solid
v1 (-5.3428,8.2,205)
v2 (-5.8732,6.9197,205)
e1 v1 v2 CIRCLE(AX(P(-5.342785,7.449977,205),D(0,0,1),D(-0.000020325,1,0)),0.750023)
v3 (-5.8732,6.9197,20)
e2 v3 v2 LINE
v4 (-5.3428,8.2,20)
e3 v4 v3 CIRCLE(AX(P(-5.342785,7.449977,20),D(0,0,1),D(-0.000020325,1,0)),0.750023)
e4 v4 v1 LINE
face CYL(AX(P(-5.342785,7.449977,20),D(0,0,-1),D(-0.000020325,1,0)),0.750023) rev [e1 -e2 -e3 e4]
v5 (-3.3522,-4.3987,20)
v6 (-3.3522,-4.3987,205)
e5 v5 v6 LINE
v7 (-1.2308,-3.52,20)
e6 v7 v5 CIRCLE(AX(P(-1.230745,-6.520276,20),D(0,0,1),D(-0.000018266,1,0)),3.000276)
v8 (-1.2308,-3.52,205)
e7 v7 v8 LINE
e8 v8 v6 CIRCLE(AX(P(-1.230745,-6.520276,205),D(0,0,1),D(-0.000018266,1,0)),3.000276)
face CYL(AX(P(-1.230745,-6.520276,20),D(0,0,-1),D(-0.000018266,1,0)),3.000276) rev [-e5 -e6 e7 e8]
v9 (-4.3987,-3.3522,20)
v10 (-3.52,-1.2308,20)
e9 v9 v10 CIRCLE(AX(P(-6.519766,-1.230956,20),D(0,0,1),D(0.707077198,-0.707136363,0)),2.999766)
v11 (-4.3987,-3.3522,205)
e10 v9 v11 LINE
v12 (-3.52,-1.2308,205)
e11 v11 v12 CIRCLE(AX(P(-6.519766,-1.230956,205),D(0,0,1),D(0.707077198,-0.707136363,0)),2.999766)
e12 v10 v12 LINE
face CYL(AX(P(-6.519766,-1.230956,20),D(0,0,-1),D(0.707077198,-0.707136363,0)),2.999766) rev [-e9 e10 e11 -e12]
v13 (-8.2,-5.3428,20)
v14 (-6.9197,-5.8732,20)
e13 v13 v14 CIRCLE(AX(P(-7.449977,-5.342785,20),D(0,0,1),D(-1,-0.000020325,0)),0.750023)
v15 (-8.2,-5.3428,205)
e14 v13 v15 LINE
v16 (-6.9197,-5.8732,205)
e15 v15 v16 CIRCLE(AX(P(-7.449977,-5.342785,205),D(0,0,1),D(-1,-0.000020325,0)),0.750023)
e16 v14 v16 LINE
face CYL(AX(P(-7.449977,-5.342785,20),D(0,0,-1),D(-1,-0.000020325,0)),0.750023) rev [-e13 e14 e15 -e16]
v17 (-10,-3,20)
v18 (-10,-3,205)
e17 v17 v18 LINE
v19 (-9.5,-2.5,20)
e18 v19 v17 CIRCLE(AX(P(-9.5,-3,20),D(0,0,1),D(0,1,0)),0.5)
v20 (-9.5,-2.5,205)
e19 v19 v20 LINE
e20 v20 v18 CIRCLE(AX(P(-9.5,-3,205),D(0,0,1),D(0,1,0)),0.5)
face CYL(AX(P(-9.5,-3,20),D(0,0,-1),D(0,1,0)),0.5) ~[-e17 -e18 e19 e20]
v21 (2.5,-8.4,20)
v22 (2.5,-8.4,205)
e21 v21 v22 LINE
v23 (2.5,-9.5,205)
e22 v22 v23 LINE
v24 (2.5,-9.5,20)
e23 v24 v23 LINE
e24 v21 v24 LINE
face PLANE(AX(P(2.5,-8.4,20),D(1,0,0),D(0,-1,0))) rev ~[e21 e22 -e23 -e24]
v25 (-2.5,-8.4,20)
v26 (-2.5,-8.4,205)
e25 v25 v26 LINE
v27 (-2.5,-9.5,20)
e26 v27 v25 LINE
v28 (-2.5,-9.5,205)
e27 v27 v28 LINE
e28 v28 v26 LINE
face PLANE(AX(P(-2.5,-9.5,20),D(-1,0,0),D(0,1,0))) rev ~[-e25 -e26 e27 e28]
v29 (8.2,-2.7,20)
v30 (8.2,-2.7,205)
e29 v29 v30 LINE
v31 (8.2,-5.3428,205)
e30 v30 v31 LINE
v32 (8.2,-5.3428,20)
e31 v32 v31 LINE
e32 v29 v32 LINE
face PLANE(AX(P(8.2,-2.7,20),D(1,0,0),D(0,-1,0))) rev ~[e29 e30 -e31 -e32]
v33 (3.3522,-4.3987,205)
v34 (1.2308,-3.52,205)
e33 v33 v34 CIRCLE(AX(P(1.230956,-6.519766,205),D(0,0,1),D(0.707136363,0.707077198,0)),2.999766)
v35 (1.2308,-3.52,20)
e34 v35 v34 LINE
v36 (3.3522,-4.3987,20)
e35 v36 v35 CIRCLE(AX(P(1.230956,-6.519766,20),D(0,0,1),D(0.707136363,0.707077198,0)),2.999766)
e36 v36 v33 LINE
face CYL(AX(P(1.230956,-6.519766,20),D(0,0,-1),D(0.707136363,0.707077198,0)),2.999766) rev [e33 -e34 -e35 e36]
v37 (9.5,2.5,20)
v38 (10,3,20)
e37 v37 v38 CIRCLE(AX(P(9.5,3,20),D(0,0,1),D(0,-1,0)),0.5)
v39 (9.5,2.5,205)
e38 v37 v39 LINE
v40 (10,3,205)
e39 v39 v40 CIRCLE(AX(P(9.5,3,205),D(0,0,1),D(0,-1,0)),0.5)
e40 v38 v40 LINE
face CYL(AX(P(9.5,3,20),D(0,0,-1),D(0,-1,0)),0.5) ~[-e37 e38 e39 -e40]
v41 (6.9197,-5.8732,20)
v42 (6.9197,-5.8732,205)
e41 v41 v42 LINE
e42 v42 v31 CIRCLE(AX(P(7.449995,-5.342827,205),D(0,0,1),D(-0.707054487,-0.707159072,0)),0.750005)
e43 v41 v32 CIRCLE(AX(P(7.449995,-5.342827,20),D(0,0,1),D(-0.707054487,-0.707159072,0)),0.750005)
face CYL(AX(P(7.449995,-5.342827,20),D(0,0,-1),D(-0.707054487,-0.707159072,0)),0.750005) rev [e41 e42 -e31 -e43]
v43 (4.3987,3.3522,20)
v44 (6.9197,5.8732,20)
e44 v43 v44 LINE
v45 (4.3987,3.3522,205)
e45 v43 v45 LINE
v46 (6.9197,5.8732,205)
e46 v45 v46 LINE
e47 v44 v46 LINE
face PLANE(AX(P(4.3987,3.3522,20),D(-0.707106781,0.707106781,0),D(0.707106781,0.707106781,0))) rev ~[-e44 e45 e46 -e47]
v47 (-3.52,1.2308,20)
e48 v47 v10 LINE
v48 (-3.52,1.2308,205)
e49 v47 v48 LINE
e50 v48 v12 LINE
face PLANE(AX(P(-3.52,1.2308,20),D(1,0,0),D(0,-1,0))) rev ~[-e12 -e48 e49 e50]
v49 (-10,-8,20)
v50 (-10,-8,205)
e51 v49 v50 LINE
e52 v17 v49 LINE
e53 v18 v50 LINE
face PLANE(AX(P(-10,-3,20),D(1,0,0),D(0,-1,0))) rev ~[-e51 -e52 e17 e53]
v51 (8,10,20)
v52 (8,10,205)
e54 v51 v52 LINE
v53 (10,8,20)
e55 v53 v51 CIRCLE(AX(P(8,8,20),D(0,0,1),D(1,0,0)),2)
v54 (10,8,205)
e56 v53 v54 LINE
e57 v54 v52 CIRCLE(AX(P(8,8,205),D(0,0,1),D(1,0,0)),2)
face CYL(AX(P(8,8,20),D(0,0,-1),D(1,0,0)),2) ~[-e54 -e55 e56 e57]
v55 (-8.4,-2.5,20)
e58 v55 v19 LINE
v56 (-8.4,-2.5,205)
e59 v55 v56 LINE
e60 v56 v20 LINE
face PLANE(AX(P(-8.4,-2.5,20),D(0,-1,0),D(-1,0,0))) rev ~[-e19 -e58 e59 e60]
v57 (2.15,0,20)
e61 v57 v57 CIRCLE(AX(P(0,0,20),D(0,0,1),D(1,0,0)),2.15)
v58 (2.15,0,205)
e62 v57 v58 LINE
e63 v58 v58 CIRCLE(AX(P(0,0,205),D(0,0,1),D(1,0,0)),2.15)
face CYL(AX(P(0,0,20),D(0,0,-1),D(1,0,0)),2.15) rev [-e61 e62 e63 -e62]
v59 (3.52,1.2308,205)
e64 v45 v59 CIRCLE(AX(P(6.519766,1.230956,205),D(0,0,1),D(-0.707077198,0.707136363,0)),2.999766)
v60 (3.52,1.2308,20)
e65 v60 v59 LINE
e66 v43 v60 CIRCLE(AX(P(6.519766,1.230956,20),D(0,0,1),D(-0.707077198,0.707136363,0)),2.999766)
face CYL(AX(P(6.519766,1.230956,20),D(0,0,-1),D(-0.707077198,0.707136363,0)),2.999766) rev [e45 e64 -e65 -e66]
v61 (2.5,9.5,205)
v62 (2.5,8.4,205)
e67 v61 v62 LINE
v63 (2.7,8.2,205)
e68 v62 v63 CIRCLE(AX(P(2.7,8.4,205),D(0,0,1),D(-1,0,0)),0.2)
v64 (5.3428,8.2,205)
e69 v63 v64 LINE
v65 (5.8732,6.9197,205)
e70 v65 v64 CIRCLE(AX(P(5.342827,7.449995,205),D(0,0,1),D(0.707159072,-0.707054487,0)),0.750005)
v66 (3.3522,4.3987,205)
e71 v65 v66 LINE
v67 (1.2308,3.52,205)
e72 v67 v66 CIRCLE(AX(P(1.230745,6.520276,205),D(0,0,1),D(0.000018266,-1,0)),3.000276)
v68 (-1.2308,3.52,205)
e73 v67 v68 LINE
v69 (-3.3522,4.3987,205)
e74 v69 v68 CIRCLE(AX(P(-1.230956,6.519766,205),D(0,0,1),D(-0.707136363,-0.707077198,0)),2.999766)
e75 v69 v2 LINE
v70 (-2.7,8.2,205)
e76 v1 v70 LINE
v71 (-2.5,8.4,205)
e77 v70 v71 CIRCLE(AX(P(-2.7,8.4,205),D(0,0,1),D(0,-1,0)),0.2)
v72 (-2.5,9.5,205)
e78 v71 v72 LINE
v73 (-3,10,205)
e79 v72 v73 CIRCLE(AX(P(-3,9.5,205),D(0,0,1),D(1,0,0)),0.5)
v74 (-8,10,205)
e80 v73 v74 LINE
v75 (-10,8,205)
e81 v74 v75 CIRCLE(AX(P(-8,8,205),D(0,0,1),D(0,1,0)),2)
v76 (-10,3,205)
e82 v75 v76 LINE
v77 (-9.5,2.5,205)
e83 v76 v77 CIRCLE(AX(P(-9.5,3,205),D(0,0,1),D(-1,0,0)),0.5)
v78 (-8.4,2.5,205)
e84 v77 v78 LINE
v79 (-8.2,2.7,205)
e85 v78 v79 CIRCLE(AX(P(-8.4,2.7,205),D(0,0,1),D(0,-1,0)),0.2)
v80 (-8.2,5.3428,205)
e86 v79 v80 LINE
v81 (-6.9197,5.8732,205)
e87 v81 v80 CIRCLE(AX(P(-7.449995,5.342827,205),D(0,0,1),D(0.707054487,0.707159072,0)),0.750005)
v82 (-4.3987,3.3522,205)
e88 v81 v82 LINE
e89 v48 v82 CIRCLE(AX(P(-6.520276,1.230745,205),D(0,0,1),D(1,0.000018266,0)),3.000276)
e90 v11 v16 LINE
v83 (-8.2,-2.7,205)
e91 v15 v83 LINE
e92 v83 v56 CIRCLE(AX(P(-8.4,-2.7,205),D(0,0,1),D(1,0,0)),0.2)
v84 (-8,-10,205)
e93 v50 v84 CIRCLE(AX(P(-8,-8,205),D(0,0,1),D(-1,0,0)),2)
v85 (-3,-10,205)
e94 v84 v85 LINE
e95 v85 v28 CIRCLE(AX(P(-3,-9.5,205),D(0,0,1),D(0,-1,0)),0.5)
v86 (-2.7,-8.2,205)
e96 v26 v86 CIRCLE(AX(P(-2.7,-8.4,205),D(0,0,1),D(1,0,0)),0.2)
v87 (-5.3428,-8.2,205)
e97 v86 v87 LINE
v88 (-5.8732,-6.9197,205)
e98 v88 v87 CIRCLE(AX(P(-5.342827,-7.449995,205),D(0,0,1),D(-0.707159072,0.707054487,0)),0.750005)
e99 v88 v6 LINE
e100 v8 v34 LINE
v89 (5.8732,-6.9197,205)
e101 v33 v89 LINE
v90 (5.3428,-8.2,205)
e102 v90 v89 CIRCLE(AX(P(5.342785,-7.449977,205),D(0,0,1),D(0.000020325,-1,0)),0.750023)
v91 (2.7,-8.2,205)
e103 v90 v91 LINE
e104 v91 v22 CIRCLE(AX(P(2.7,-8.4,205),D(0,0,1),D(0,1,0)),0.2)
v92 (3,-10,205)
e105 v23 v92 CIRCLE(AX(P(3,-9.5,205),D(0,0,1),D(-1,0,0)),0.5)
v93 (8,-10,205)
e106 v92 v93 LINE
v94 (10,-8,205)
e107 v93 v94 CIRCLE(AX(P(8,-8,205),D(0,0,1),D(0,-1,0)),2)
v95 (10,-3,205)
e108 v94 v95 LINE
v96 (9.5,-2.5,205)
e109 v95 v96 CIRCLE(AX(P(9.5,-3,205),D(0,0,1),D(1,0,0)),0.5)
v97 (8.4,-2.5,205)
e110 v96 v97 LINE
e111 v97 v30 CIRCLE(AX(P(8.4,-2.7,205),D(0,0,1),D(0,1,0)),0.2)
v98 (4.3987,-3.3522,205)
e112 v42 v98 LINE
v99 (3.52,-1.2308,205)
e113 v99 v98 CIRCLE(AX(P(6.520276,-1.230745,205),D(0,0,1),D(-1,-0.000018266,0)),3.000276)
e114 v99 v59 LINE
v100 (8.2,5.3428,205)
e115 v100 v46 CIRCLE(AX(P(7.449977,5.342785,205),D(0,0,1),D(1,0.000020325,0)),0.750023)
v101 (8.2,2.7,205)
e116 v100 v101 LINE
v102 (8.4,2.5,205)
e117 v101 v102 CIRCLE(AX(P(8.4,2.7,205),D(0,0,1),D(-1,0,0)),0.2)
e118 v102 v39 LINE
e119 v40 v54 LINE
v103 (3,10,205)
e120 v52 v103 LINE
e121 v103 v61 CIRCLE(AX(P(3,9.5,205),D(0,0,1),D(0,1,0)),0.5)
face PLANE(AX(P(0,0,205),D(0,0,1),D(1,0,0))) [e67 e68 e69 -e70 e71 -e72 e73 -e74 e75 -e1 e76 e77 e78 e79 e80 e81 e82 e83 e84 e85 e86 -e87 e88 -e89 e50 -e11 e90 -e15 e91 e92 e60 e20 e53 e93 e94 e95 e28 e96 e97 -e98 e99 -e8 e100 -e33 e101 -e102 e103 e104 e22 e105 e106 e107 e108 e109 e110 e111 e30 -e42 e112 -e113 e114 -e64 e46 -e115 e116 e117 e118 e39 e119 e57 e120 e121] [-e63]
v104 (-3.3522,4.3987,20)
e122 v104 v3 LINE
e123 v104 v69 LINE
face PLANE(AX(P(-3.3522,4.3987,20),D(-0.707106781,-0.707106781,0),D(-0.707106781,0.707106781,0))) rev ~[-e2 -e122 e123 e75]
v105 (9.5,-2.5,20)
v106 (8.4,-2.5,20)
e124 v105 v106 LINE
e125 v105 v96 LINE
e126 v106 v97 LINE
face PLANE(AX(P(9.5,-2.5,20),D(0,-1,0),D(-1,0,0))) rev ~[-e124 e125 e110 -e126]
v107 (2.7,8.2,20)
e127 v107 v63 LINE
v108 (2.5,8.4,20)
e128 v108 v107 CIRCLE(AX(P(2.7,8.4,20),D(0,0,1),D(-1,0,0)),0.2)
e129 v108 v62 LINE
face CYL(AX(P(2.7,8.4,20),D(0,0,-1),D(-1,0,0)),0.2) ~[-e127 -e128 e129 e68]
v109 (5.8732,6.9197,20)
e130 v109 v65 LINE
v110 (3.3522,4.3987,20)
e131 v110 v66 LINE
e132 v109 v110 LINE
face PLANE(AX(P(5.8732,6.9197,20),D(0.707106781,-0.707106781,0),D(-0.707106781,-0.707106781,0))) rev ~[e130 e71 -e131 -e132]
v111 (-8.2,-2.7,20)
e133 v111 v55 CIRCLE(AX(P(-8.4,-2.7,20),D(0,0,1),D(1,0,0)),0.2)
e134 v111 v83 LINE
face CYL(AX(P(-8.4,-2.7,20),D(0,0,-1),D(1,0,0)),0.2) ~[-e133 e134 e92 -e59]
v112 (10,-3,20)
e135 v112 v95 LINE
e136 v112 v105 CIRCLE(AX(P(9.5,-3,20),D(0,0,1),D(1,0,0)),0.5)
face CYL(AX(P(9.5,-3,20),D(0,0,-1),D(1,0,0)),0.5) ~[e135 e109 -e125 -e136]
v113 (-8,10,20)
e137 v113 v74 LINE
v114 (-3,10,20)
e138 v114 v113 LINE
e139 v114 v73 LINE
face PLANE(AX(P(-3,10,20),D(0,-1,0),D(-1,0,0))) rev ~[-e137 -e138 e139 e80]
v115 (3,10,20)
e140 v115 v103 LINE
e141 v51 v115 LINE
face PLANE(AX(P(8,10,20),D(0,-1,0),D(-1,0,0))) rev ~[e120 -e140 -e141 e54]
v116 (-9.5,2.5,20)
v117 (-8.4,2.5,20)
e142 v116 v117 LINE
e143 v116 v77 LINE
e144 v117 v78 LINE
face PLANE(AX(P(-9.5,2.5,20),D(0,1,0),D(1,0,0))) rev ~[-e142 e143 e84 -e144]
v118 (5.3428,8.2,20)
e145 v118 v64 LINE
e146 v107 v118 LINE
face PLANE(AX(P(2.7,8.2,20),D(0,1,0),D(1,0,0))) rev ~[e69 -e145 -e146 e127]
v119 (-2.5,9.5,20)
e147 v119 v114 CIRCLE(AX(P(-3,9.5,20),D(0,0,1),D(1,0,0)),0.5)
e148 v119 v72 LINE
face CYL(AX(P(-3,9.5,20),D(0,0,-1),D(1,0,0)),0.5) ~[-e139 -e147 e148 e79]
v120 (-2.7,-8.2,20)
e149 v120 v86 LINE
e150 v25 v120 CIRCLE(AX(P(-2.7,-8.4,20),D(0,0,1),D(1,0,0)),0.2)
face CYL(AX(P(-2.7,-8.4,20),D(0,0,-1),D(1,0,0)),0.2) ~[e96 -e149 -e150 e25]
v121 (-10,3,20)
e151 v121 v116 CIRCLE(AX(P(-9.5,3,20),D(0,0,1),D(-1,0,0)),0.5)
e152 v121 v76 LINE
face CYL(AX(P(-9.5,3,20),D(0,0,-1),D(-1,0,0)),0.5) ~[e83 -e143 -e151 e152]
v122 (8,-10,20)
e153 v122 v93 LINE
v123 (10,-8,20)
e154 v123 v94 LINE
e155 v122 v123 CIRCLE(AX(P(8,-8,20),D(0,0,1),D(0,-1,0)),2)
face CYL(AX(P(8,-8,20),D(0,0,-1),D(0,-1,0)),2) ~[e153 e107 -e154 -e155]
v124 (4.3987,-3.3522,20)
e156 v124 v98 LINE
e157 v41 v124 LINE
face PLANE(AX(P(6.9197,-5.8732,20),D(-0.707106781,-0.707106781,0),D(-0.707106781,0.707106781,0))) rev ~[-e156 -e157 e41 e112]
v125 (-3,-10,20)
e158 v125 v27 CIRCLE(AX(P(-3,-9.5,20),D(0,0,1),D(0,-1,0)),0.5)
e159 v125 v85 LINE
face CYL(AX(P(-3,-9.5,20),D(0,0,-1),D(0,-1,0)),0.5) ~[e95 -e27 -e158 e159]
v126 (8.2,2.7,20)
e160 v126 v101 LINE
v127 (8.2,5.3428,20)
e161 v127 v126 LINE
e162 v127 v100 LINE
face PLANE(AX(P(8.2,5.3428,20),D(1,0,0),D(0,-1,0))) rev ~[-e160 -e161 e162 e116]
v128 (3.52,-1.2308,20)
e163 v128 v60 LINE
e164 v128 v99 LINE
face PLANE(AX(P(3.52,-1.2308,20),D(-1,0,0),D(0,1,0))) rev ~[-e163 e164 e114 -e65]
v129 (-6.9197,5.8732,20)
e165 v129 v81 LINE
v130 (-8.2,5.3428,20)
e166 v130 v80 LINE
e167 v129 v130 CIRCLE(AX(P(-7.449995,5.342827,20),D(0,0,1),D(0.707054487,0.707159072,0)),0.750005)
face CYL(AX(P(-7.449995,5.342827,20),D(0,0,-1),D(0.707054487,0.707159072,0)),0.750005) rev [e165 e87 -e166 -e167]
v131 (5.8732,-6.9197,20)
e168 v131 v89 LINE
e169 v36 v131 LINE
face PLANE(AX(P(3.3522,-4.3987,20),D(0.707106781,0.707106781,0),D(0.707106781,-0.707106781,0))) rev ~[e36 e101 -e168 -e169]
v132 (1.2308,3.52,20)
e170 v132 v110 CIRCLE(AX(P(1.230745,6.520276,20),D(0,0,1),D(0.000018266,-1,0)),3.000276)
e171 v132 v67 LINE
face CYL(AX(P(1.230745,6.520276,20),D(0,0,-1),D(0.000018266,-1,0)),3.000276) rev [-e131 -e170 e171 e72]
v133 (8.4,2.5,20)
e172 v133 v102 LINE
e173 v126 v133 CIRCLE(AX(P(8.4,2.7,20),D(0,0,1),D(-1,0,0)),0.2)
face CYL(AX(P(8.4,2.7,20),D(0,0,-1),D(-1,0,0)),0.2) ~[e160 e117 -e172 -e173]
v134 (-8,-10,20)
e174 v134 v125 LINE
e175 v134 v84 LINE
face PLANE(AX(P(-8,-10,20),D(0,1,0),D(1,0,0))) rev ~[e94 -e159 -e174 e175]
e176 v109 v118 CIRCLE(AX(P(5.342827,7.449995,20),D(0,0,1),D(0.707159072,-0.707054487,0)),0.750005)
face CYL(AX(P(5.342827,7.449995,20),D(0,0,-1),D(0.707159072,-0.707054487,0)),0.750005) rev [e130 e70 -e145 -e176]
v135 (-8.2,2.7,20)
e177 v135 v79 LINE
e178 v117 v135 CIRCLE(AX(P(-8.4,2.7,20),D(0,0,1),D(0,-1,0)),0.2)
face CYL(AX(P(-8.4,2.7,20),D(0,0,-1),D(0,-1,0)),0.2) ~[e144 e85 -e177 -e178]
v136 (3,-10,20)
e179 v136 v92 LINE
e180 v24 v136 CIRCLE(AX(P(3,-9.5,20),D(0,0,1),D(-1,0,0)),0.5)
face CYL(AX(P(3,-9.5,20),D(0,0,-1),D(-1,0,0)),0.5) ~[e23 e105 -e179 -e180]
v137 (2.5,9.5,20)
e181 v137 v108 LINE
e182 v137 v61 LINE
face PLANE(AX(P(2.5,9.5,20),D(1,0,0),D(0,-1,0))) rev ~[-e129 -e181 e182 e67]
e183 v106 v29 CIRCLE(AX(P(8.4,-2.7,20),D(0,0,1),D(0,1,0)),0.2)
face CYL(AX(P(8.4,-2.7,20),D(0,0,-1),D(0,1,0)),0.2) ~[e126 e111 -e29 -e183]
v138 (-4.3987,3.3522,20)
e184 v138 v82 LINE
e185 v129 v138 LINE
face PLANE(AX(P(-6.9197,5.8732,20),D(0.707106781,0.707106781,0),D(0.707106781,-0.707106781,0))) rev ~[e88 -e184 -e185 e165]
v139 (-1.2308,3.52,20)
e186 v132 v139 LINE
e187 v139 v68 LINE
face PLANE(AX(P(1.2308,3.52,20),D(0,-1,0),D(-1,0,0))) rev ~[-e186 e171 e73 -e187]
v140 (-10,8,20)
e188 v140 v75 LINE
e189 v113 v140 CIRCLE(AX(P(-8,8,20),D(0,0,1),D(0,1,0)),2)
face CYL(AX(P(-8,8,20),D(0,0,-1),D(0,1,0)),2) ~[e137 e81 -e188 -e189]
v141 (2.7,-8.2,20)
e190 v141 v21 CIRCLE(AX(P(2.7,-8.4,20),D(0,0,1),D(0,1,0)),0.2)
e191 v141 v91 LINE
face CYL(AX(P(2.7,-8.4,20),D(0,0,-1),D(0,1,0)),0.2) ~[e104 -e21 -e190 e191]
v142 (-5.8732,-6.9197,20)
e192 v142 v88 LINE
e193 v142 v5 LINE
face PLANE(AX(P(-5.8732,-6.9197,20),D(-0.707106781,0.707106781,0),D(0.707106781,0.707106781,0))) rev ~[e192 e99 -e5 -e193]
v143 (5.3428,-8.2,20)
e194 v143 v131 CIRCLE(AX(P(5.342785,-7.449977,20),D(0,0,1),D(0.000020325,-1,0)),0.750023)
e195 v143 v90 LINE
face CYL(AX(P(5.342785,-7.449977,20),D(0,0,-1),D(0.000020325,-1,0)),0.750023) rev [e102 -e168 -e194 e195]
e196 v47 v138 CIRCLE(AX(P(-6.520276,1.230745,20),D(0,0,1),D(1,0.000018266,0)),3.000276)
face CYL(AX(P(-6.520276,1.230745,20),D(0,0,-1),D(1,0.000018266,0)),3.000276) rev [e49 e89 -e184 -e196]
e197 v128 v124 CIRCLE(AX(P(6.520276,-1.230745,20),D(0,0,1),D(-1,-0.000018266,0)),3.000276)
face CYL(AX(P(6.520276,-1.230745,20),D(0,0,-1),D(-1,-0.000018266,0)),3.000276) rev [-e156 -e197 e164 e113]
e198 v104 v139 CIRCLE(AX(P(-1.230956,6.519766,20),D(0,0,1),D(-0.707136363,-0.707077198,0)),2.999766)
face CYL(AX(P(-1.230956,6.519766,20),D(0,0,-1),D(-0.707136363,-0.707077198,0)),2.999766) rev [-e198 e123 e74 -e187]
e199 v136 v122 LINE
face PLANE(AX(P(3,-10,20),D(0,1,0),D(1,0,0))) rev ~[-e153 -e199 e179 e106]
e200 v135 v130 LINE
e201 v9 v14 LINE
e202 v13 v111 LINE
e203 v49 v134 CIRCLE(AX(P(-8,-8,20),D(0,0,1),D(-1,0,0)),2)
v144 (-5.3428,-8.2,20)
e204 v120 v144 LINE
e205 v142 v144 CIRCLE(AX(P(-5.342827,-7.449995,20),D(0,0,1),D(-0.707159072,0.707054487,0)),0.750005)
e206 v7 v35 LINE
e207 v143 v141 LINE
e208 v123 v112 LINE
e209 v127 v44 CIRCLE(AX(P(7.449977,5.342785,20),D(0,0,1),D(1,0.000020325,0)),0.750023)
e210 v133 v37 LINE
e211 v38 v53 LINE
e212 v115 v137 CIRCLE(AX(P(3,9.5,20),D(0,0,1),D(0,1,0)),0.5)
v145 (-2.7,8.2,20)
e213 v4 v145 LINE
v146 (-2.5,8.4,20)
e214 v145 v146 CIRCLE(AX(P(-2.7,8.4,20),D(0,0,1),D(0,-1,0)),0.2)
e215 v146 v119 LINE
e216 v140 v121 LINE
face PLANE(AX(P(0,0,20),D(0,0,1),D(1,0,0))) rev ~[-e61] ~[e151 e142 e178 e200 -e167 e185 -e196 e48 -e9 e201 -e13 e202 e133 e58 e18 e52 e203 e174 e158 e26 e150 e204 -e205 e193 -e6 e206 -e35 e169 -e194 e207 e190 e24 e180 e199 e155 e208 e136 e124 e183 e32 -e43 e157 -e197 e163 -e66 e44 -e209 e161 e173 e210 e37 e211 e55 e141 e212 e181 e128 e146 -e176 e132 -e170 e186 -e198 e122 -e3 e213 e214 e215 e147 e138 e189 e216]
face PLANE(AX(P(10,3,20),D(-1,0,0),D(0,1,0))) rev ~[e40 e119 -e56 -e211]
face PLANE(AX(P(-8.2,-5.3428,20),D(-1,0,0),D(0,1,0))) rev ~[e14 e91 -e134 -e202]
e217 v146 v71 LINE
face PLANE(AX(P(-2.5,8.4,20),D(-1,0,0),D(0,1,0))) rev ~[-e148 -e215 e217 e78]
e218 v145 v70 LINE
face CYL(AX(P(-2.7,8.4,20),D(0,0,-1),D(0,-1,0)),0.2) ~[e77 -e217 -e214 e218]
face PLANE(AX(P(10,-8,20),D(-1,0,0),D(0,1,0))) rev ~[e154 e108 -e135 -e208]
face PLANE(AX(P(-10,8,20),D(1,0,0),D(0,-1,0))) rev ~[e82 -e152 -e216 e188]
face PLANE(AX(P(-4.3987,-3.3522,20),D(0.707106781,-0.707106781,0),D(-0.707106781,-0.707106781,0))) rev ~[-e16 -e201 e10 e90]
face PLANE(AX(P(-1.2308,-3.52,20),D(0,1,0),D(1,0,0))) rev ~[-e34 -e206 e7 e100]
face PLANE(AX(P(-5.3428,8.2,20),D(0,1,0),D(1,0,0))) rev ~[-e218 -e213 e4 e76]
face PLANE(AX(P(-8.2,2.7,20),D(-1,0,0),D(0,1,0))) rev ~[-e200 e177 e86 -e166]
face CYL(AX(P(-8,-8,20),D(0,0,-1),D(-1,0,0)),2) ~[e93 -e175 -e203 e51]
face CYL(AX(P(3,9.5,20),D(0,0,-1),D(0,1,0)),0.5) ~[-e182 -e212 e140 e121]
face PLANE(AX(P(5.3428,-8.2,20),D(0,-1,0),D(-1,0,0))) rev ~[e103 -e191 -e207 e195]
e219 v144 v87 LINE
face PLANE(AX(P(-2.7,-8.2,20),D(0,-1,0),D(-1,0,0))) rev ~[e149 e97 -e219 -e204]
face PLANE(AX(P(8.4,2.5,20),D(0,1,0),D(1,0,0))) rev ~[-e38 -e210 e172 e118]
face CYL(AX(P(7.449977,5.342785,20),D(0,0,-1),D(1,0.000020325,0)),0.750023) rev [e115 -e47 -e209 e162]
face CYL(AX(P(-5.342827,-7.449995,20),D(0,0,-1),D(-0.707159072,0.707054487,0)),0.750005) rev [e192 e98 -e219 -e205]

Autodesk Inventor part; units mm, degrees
ref_plane "Płaszczyzna początkowa" through (0, 0, 20) normal (0, 0, 1) x (1, 0, 0)
ref_plane "Płaszczyzna końcowa" through (0, 0, 205) normal (0, 0, 1) x (1, 0, 0)
sketch "Szkic" plane through (0, 0, 0) normal (0, 0, 1) x (1, 0, 0)
  arc A0 (8, -10) -> (10, -8) centre (8, -8) ccw
  line L0 (10, -8) -> (10, -3)
  arc A1 (10, -3) -> (9.5, -2.5) centre (9.5, -3) ccw
  line L1 (9.5, -2.5) -> (8.4, -2.5)
  arc A2 (8.4, -2.5) -> (8.2, -2.7) centre (8.4, -2.7) ccw
  line L2 (8.2, -2.7) -> (8.2, -5.3428)
  arc A3 (6.9197, -5.8732) -> (8.2, -5.3428) centre (7.45, -5.3428) ccw
  line L3 (6.9197, -5.8732) -> (4.3987, -3.3522)
  arc A4 (3.52, -1.2308) -> (4.3987, -3.3522) centre (6.52, -1.2308) ccw
  line L4 (3.52, -1.2308) -> (3.52, 1.2308)
  arc A5 (4.3987, 3.3522) -> (3.52, 1.2308) centre (6.52, 1.2308) ccw
  line L5 (4.3987, 3.3522) -> (6.9197, 5.8732)
  arc A6 (8.2, 5.3428) -> (6.9197, 5.8732) centre (7.45, 5.3428) ccw
  line L6 (8.2, 5.3428) -> (8.2, 2.7)
  arc A7 (8.2, 2.7) -> (8.4, 2.5) centre (8.4, 2.7) ccw
  line L7 (8.4, 2.5) -> (9.5, 2.5)
  arc A8 (9.5, 2.5) -> (10, 3) centre (9.5, 3) ccw
  line L8 (10, 3) -> (10, 8)
  arc A9 (10, 8) -> (8, 10) centre (8, 8) ccw
  line L9 (8, 10) -> (3, 10)
  arc A10 (3, 10) -> (2.5, 9.5) centre (3, 9.5) ccw
  line L10 (2.5, 9.5) -> (2.5, 8.4)
  arc A11 (2.5, 8.4) -> (2.7, 8.2) centre (2.7, 8.4) ccw
  line L11 (2.7, 8.2) -> (5.3428, 8.2)
  arc A12 (5.8732, 6.9197) -> (5.3428, 8.2) centre (5.3428, 7.45) ccw
  line L12 (5.8732, 6.9197) -> (3.3522, 4.3987)
  arc A13 (1.2308, 3.52) -> (3.3522, 4.3987) centre (1.2308, 6.52) ccw
  line L13 (1.2308, 3.52) -> (-1.2308, 3.52)
  arc A14 (-3.3522, 4.3987) -> (-1.2308, 3.52) centre (-1.2308, 6.52) ccw
  line L14 (-3.3522, 4.3987) -> (-5.8732, 6.9197)
  arc A15 (-5.3428, 8.2) -> (-5.8732, 6.9197) centre (-5.3428, 7.45) ccw
  line L15 (-5.3428, 8.2) -> (-2.7, 8.2)
  arc A16 (-2.7, 8.2) -> (-2.5, 8.4) centre (-2.7, 8.4) ccw
  line L16 (-2.5, 8.4) -> (-2.5, 9.5)
  arc A17 (-2.5, 9.5) -> (-3, 10) centre (-3, 9.5) ccw
  line L17 (-3, 10) -> (-8, 10)
  arc A18 (-8, 10) -> (-10, 8) centre (-8, 8) ccw
  line L18 (-10, 8) -> (-10, 3)
  arc A19 (-10, 3) -> (-9.5, 2.5) centre (-9.5, 3) ccw
  line L19 (-9.5, 2.5) -> (-8.4, 2.5)
  arc A20 (-8.4, 2.5) -> (-8.2, 2.7) centre (-8.4, 2.7) ccw
  line L20 (-8.2, 2.7) -> (-8.2, 5.3428)
  arc A21 (-6.9197, 5.8732) -> (-8.2, 5.3428) centre (-7.45, 5.3428) ccw
  line L21 (-6.9197, 5.8732) -> (-4.3987, 3.3522)
  arc A22 (-3.52, 1.2308) -> (-4.3987, 3.3522) centre (-6.52, 1.2308) ccw
  line L22 (-3.52, 1.2308) -> (-3.52, -1.2308)
  arc A23 (-4.3987, -3.3522) -> (-3.52, -1.2308) centre (-6.52, -1.2308) ccw
  line L23 (-4.3987, -3.3522) -> (-6.9197, -5.8732)
  arc A24 (-8.2, -5.3428) -> (-6.9197, -5.8732) centre (-7.45, -5.3428) ccw
  line L24 (-8.2, -5.3428) -> (-8.2, -2.7)
  arc A25 (-8.2, -2.7) -> (-8.4, -2.5) centre (-8.4, -2.7) ccw
  line L25 (-8.4, -2.5) -> (-9.5, -2.5)
  arc A26 (-9.5, -2.5) -> (-10, -3) centre (-9.5, -3) ccw
  line L26 (-10, -3) -> (-10, -8)
  arc A27 (-10, -8) -> (-8, -10) centre (-8, -8) ccw
  line L27 (-8, -10) -> (-3, -10)
  arc A28 (-3, -10) -> (-2.5, -9.5) centre (-3, -9.5) ccw
  line L28 (-2.5, -9.5) -> (-2.5, -8.4)
  arc A29 (-2.5, -8.4) -> (-2.7, -8.2) centre (-2.7, -8.4) ccw
  line L29 (-2.7, -8.2) -> (-5.3428, -8.2)
  arc A30 (-5.8732, -6.9197) -> (-5.3428, -8.2) centre (-5.3428, -7.45) ccw
  line L30 (-5.8732, -6.9197) -> (-3.3522, -4.3987)
  arc A31 (-1.2308, -3.52) -> (-3.3522, -4.3987) centre (-1.2308, -6.52) ccw
  line L31 (-1.2308, -3.52) -> (1.2308, -3.52)
  arc A32 (3.3522, -4.3987) -> (1.2308, -3.52) centre (1.2308, -6.52) ccw
  line L32 (3.3522, -4.3987) -> (5.8732, -6.9197)
  arc A33 (5.3428, -8.2) -> (5.8732, -6.9197) centre (5.3428, -7.45) ccw
  line L33 (5.3428, -8.2) -> (2.7, -8.2)
  arc A34 (2.7, -8.2) -> (2.5, -8.4) centre (2.7, -8.4) ccw
  line L34 (2.5, -8.4) -> (2.5, -9.5)
  arc A35 (2.5, -9.5) -> (3, -10) centre (3, -9.5) ccw
  line L35 (3, -10) -> (8, -10)
  circle A36 centre (0, 0) radius 2.15
  point P0 (10, -10)
extrude "Bryła" add sketch "Szkic" along normal up to surface (185 mm away) from surface at 20
sketch "Szkic4" plane through (0, 0, 0) normal (0, 0, 1) x (1, 0, 0)
  line L0 (0, 0) -> (10, 0)
ref_plane "Płaszczyzna konstrukcyjna4" through (0, 0, 0) normal (0, -1, 0) x (1, 0, 0)
sketch "Szkic5" plane through (0, 0, 0) normal (0, -1, 0) x (1, 0, 0)
  line L0 (-2, 20) -> (12, 20)
  line L1 (-2, 205) -> (12, 205)
  dimension "d7" = 185
ref_plane "Płaszczyzna konstrukcyjna5" through (225, 3, 20) normal (0, 0, -1) x (-1, 0, 0)
split "Podział1" plane through (225, 3, 20) removes the side toward (0, 0, -1)
ref_plane "Płaszczyzna konstrukcyjna6" through (-230, 3, 205) normal (0, 0, 1) x (1, 0, 0)
split "Podział2" plane through (-230, 3, 205) removes the side toward (0, 0, 1)
equation "\"d3\" = Length + G_OFFSET_END"
equation "\"G_L\" = d7"
equation "\"Length\" = 215"
equation "\"G_OFFSET_END\" = -10"
properties part number "COTS_ARMA_AR3701_20x20_Alu_Extr_00000012" material "Aluminium 6061-AHC"
